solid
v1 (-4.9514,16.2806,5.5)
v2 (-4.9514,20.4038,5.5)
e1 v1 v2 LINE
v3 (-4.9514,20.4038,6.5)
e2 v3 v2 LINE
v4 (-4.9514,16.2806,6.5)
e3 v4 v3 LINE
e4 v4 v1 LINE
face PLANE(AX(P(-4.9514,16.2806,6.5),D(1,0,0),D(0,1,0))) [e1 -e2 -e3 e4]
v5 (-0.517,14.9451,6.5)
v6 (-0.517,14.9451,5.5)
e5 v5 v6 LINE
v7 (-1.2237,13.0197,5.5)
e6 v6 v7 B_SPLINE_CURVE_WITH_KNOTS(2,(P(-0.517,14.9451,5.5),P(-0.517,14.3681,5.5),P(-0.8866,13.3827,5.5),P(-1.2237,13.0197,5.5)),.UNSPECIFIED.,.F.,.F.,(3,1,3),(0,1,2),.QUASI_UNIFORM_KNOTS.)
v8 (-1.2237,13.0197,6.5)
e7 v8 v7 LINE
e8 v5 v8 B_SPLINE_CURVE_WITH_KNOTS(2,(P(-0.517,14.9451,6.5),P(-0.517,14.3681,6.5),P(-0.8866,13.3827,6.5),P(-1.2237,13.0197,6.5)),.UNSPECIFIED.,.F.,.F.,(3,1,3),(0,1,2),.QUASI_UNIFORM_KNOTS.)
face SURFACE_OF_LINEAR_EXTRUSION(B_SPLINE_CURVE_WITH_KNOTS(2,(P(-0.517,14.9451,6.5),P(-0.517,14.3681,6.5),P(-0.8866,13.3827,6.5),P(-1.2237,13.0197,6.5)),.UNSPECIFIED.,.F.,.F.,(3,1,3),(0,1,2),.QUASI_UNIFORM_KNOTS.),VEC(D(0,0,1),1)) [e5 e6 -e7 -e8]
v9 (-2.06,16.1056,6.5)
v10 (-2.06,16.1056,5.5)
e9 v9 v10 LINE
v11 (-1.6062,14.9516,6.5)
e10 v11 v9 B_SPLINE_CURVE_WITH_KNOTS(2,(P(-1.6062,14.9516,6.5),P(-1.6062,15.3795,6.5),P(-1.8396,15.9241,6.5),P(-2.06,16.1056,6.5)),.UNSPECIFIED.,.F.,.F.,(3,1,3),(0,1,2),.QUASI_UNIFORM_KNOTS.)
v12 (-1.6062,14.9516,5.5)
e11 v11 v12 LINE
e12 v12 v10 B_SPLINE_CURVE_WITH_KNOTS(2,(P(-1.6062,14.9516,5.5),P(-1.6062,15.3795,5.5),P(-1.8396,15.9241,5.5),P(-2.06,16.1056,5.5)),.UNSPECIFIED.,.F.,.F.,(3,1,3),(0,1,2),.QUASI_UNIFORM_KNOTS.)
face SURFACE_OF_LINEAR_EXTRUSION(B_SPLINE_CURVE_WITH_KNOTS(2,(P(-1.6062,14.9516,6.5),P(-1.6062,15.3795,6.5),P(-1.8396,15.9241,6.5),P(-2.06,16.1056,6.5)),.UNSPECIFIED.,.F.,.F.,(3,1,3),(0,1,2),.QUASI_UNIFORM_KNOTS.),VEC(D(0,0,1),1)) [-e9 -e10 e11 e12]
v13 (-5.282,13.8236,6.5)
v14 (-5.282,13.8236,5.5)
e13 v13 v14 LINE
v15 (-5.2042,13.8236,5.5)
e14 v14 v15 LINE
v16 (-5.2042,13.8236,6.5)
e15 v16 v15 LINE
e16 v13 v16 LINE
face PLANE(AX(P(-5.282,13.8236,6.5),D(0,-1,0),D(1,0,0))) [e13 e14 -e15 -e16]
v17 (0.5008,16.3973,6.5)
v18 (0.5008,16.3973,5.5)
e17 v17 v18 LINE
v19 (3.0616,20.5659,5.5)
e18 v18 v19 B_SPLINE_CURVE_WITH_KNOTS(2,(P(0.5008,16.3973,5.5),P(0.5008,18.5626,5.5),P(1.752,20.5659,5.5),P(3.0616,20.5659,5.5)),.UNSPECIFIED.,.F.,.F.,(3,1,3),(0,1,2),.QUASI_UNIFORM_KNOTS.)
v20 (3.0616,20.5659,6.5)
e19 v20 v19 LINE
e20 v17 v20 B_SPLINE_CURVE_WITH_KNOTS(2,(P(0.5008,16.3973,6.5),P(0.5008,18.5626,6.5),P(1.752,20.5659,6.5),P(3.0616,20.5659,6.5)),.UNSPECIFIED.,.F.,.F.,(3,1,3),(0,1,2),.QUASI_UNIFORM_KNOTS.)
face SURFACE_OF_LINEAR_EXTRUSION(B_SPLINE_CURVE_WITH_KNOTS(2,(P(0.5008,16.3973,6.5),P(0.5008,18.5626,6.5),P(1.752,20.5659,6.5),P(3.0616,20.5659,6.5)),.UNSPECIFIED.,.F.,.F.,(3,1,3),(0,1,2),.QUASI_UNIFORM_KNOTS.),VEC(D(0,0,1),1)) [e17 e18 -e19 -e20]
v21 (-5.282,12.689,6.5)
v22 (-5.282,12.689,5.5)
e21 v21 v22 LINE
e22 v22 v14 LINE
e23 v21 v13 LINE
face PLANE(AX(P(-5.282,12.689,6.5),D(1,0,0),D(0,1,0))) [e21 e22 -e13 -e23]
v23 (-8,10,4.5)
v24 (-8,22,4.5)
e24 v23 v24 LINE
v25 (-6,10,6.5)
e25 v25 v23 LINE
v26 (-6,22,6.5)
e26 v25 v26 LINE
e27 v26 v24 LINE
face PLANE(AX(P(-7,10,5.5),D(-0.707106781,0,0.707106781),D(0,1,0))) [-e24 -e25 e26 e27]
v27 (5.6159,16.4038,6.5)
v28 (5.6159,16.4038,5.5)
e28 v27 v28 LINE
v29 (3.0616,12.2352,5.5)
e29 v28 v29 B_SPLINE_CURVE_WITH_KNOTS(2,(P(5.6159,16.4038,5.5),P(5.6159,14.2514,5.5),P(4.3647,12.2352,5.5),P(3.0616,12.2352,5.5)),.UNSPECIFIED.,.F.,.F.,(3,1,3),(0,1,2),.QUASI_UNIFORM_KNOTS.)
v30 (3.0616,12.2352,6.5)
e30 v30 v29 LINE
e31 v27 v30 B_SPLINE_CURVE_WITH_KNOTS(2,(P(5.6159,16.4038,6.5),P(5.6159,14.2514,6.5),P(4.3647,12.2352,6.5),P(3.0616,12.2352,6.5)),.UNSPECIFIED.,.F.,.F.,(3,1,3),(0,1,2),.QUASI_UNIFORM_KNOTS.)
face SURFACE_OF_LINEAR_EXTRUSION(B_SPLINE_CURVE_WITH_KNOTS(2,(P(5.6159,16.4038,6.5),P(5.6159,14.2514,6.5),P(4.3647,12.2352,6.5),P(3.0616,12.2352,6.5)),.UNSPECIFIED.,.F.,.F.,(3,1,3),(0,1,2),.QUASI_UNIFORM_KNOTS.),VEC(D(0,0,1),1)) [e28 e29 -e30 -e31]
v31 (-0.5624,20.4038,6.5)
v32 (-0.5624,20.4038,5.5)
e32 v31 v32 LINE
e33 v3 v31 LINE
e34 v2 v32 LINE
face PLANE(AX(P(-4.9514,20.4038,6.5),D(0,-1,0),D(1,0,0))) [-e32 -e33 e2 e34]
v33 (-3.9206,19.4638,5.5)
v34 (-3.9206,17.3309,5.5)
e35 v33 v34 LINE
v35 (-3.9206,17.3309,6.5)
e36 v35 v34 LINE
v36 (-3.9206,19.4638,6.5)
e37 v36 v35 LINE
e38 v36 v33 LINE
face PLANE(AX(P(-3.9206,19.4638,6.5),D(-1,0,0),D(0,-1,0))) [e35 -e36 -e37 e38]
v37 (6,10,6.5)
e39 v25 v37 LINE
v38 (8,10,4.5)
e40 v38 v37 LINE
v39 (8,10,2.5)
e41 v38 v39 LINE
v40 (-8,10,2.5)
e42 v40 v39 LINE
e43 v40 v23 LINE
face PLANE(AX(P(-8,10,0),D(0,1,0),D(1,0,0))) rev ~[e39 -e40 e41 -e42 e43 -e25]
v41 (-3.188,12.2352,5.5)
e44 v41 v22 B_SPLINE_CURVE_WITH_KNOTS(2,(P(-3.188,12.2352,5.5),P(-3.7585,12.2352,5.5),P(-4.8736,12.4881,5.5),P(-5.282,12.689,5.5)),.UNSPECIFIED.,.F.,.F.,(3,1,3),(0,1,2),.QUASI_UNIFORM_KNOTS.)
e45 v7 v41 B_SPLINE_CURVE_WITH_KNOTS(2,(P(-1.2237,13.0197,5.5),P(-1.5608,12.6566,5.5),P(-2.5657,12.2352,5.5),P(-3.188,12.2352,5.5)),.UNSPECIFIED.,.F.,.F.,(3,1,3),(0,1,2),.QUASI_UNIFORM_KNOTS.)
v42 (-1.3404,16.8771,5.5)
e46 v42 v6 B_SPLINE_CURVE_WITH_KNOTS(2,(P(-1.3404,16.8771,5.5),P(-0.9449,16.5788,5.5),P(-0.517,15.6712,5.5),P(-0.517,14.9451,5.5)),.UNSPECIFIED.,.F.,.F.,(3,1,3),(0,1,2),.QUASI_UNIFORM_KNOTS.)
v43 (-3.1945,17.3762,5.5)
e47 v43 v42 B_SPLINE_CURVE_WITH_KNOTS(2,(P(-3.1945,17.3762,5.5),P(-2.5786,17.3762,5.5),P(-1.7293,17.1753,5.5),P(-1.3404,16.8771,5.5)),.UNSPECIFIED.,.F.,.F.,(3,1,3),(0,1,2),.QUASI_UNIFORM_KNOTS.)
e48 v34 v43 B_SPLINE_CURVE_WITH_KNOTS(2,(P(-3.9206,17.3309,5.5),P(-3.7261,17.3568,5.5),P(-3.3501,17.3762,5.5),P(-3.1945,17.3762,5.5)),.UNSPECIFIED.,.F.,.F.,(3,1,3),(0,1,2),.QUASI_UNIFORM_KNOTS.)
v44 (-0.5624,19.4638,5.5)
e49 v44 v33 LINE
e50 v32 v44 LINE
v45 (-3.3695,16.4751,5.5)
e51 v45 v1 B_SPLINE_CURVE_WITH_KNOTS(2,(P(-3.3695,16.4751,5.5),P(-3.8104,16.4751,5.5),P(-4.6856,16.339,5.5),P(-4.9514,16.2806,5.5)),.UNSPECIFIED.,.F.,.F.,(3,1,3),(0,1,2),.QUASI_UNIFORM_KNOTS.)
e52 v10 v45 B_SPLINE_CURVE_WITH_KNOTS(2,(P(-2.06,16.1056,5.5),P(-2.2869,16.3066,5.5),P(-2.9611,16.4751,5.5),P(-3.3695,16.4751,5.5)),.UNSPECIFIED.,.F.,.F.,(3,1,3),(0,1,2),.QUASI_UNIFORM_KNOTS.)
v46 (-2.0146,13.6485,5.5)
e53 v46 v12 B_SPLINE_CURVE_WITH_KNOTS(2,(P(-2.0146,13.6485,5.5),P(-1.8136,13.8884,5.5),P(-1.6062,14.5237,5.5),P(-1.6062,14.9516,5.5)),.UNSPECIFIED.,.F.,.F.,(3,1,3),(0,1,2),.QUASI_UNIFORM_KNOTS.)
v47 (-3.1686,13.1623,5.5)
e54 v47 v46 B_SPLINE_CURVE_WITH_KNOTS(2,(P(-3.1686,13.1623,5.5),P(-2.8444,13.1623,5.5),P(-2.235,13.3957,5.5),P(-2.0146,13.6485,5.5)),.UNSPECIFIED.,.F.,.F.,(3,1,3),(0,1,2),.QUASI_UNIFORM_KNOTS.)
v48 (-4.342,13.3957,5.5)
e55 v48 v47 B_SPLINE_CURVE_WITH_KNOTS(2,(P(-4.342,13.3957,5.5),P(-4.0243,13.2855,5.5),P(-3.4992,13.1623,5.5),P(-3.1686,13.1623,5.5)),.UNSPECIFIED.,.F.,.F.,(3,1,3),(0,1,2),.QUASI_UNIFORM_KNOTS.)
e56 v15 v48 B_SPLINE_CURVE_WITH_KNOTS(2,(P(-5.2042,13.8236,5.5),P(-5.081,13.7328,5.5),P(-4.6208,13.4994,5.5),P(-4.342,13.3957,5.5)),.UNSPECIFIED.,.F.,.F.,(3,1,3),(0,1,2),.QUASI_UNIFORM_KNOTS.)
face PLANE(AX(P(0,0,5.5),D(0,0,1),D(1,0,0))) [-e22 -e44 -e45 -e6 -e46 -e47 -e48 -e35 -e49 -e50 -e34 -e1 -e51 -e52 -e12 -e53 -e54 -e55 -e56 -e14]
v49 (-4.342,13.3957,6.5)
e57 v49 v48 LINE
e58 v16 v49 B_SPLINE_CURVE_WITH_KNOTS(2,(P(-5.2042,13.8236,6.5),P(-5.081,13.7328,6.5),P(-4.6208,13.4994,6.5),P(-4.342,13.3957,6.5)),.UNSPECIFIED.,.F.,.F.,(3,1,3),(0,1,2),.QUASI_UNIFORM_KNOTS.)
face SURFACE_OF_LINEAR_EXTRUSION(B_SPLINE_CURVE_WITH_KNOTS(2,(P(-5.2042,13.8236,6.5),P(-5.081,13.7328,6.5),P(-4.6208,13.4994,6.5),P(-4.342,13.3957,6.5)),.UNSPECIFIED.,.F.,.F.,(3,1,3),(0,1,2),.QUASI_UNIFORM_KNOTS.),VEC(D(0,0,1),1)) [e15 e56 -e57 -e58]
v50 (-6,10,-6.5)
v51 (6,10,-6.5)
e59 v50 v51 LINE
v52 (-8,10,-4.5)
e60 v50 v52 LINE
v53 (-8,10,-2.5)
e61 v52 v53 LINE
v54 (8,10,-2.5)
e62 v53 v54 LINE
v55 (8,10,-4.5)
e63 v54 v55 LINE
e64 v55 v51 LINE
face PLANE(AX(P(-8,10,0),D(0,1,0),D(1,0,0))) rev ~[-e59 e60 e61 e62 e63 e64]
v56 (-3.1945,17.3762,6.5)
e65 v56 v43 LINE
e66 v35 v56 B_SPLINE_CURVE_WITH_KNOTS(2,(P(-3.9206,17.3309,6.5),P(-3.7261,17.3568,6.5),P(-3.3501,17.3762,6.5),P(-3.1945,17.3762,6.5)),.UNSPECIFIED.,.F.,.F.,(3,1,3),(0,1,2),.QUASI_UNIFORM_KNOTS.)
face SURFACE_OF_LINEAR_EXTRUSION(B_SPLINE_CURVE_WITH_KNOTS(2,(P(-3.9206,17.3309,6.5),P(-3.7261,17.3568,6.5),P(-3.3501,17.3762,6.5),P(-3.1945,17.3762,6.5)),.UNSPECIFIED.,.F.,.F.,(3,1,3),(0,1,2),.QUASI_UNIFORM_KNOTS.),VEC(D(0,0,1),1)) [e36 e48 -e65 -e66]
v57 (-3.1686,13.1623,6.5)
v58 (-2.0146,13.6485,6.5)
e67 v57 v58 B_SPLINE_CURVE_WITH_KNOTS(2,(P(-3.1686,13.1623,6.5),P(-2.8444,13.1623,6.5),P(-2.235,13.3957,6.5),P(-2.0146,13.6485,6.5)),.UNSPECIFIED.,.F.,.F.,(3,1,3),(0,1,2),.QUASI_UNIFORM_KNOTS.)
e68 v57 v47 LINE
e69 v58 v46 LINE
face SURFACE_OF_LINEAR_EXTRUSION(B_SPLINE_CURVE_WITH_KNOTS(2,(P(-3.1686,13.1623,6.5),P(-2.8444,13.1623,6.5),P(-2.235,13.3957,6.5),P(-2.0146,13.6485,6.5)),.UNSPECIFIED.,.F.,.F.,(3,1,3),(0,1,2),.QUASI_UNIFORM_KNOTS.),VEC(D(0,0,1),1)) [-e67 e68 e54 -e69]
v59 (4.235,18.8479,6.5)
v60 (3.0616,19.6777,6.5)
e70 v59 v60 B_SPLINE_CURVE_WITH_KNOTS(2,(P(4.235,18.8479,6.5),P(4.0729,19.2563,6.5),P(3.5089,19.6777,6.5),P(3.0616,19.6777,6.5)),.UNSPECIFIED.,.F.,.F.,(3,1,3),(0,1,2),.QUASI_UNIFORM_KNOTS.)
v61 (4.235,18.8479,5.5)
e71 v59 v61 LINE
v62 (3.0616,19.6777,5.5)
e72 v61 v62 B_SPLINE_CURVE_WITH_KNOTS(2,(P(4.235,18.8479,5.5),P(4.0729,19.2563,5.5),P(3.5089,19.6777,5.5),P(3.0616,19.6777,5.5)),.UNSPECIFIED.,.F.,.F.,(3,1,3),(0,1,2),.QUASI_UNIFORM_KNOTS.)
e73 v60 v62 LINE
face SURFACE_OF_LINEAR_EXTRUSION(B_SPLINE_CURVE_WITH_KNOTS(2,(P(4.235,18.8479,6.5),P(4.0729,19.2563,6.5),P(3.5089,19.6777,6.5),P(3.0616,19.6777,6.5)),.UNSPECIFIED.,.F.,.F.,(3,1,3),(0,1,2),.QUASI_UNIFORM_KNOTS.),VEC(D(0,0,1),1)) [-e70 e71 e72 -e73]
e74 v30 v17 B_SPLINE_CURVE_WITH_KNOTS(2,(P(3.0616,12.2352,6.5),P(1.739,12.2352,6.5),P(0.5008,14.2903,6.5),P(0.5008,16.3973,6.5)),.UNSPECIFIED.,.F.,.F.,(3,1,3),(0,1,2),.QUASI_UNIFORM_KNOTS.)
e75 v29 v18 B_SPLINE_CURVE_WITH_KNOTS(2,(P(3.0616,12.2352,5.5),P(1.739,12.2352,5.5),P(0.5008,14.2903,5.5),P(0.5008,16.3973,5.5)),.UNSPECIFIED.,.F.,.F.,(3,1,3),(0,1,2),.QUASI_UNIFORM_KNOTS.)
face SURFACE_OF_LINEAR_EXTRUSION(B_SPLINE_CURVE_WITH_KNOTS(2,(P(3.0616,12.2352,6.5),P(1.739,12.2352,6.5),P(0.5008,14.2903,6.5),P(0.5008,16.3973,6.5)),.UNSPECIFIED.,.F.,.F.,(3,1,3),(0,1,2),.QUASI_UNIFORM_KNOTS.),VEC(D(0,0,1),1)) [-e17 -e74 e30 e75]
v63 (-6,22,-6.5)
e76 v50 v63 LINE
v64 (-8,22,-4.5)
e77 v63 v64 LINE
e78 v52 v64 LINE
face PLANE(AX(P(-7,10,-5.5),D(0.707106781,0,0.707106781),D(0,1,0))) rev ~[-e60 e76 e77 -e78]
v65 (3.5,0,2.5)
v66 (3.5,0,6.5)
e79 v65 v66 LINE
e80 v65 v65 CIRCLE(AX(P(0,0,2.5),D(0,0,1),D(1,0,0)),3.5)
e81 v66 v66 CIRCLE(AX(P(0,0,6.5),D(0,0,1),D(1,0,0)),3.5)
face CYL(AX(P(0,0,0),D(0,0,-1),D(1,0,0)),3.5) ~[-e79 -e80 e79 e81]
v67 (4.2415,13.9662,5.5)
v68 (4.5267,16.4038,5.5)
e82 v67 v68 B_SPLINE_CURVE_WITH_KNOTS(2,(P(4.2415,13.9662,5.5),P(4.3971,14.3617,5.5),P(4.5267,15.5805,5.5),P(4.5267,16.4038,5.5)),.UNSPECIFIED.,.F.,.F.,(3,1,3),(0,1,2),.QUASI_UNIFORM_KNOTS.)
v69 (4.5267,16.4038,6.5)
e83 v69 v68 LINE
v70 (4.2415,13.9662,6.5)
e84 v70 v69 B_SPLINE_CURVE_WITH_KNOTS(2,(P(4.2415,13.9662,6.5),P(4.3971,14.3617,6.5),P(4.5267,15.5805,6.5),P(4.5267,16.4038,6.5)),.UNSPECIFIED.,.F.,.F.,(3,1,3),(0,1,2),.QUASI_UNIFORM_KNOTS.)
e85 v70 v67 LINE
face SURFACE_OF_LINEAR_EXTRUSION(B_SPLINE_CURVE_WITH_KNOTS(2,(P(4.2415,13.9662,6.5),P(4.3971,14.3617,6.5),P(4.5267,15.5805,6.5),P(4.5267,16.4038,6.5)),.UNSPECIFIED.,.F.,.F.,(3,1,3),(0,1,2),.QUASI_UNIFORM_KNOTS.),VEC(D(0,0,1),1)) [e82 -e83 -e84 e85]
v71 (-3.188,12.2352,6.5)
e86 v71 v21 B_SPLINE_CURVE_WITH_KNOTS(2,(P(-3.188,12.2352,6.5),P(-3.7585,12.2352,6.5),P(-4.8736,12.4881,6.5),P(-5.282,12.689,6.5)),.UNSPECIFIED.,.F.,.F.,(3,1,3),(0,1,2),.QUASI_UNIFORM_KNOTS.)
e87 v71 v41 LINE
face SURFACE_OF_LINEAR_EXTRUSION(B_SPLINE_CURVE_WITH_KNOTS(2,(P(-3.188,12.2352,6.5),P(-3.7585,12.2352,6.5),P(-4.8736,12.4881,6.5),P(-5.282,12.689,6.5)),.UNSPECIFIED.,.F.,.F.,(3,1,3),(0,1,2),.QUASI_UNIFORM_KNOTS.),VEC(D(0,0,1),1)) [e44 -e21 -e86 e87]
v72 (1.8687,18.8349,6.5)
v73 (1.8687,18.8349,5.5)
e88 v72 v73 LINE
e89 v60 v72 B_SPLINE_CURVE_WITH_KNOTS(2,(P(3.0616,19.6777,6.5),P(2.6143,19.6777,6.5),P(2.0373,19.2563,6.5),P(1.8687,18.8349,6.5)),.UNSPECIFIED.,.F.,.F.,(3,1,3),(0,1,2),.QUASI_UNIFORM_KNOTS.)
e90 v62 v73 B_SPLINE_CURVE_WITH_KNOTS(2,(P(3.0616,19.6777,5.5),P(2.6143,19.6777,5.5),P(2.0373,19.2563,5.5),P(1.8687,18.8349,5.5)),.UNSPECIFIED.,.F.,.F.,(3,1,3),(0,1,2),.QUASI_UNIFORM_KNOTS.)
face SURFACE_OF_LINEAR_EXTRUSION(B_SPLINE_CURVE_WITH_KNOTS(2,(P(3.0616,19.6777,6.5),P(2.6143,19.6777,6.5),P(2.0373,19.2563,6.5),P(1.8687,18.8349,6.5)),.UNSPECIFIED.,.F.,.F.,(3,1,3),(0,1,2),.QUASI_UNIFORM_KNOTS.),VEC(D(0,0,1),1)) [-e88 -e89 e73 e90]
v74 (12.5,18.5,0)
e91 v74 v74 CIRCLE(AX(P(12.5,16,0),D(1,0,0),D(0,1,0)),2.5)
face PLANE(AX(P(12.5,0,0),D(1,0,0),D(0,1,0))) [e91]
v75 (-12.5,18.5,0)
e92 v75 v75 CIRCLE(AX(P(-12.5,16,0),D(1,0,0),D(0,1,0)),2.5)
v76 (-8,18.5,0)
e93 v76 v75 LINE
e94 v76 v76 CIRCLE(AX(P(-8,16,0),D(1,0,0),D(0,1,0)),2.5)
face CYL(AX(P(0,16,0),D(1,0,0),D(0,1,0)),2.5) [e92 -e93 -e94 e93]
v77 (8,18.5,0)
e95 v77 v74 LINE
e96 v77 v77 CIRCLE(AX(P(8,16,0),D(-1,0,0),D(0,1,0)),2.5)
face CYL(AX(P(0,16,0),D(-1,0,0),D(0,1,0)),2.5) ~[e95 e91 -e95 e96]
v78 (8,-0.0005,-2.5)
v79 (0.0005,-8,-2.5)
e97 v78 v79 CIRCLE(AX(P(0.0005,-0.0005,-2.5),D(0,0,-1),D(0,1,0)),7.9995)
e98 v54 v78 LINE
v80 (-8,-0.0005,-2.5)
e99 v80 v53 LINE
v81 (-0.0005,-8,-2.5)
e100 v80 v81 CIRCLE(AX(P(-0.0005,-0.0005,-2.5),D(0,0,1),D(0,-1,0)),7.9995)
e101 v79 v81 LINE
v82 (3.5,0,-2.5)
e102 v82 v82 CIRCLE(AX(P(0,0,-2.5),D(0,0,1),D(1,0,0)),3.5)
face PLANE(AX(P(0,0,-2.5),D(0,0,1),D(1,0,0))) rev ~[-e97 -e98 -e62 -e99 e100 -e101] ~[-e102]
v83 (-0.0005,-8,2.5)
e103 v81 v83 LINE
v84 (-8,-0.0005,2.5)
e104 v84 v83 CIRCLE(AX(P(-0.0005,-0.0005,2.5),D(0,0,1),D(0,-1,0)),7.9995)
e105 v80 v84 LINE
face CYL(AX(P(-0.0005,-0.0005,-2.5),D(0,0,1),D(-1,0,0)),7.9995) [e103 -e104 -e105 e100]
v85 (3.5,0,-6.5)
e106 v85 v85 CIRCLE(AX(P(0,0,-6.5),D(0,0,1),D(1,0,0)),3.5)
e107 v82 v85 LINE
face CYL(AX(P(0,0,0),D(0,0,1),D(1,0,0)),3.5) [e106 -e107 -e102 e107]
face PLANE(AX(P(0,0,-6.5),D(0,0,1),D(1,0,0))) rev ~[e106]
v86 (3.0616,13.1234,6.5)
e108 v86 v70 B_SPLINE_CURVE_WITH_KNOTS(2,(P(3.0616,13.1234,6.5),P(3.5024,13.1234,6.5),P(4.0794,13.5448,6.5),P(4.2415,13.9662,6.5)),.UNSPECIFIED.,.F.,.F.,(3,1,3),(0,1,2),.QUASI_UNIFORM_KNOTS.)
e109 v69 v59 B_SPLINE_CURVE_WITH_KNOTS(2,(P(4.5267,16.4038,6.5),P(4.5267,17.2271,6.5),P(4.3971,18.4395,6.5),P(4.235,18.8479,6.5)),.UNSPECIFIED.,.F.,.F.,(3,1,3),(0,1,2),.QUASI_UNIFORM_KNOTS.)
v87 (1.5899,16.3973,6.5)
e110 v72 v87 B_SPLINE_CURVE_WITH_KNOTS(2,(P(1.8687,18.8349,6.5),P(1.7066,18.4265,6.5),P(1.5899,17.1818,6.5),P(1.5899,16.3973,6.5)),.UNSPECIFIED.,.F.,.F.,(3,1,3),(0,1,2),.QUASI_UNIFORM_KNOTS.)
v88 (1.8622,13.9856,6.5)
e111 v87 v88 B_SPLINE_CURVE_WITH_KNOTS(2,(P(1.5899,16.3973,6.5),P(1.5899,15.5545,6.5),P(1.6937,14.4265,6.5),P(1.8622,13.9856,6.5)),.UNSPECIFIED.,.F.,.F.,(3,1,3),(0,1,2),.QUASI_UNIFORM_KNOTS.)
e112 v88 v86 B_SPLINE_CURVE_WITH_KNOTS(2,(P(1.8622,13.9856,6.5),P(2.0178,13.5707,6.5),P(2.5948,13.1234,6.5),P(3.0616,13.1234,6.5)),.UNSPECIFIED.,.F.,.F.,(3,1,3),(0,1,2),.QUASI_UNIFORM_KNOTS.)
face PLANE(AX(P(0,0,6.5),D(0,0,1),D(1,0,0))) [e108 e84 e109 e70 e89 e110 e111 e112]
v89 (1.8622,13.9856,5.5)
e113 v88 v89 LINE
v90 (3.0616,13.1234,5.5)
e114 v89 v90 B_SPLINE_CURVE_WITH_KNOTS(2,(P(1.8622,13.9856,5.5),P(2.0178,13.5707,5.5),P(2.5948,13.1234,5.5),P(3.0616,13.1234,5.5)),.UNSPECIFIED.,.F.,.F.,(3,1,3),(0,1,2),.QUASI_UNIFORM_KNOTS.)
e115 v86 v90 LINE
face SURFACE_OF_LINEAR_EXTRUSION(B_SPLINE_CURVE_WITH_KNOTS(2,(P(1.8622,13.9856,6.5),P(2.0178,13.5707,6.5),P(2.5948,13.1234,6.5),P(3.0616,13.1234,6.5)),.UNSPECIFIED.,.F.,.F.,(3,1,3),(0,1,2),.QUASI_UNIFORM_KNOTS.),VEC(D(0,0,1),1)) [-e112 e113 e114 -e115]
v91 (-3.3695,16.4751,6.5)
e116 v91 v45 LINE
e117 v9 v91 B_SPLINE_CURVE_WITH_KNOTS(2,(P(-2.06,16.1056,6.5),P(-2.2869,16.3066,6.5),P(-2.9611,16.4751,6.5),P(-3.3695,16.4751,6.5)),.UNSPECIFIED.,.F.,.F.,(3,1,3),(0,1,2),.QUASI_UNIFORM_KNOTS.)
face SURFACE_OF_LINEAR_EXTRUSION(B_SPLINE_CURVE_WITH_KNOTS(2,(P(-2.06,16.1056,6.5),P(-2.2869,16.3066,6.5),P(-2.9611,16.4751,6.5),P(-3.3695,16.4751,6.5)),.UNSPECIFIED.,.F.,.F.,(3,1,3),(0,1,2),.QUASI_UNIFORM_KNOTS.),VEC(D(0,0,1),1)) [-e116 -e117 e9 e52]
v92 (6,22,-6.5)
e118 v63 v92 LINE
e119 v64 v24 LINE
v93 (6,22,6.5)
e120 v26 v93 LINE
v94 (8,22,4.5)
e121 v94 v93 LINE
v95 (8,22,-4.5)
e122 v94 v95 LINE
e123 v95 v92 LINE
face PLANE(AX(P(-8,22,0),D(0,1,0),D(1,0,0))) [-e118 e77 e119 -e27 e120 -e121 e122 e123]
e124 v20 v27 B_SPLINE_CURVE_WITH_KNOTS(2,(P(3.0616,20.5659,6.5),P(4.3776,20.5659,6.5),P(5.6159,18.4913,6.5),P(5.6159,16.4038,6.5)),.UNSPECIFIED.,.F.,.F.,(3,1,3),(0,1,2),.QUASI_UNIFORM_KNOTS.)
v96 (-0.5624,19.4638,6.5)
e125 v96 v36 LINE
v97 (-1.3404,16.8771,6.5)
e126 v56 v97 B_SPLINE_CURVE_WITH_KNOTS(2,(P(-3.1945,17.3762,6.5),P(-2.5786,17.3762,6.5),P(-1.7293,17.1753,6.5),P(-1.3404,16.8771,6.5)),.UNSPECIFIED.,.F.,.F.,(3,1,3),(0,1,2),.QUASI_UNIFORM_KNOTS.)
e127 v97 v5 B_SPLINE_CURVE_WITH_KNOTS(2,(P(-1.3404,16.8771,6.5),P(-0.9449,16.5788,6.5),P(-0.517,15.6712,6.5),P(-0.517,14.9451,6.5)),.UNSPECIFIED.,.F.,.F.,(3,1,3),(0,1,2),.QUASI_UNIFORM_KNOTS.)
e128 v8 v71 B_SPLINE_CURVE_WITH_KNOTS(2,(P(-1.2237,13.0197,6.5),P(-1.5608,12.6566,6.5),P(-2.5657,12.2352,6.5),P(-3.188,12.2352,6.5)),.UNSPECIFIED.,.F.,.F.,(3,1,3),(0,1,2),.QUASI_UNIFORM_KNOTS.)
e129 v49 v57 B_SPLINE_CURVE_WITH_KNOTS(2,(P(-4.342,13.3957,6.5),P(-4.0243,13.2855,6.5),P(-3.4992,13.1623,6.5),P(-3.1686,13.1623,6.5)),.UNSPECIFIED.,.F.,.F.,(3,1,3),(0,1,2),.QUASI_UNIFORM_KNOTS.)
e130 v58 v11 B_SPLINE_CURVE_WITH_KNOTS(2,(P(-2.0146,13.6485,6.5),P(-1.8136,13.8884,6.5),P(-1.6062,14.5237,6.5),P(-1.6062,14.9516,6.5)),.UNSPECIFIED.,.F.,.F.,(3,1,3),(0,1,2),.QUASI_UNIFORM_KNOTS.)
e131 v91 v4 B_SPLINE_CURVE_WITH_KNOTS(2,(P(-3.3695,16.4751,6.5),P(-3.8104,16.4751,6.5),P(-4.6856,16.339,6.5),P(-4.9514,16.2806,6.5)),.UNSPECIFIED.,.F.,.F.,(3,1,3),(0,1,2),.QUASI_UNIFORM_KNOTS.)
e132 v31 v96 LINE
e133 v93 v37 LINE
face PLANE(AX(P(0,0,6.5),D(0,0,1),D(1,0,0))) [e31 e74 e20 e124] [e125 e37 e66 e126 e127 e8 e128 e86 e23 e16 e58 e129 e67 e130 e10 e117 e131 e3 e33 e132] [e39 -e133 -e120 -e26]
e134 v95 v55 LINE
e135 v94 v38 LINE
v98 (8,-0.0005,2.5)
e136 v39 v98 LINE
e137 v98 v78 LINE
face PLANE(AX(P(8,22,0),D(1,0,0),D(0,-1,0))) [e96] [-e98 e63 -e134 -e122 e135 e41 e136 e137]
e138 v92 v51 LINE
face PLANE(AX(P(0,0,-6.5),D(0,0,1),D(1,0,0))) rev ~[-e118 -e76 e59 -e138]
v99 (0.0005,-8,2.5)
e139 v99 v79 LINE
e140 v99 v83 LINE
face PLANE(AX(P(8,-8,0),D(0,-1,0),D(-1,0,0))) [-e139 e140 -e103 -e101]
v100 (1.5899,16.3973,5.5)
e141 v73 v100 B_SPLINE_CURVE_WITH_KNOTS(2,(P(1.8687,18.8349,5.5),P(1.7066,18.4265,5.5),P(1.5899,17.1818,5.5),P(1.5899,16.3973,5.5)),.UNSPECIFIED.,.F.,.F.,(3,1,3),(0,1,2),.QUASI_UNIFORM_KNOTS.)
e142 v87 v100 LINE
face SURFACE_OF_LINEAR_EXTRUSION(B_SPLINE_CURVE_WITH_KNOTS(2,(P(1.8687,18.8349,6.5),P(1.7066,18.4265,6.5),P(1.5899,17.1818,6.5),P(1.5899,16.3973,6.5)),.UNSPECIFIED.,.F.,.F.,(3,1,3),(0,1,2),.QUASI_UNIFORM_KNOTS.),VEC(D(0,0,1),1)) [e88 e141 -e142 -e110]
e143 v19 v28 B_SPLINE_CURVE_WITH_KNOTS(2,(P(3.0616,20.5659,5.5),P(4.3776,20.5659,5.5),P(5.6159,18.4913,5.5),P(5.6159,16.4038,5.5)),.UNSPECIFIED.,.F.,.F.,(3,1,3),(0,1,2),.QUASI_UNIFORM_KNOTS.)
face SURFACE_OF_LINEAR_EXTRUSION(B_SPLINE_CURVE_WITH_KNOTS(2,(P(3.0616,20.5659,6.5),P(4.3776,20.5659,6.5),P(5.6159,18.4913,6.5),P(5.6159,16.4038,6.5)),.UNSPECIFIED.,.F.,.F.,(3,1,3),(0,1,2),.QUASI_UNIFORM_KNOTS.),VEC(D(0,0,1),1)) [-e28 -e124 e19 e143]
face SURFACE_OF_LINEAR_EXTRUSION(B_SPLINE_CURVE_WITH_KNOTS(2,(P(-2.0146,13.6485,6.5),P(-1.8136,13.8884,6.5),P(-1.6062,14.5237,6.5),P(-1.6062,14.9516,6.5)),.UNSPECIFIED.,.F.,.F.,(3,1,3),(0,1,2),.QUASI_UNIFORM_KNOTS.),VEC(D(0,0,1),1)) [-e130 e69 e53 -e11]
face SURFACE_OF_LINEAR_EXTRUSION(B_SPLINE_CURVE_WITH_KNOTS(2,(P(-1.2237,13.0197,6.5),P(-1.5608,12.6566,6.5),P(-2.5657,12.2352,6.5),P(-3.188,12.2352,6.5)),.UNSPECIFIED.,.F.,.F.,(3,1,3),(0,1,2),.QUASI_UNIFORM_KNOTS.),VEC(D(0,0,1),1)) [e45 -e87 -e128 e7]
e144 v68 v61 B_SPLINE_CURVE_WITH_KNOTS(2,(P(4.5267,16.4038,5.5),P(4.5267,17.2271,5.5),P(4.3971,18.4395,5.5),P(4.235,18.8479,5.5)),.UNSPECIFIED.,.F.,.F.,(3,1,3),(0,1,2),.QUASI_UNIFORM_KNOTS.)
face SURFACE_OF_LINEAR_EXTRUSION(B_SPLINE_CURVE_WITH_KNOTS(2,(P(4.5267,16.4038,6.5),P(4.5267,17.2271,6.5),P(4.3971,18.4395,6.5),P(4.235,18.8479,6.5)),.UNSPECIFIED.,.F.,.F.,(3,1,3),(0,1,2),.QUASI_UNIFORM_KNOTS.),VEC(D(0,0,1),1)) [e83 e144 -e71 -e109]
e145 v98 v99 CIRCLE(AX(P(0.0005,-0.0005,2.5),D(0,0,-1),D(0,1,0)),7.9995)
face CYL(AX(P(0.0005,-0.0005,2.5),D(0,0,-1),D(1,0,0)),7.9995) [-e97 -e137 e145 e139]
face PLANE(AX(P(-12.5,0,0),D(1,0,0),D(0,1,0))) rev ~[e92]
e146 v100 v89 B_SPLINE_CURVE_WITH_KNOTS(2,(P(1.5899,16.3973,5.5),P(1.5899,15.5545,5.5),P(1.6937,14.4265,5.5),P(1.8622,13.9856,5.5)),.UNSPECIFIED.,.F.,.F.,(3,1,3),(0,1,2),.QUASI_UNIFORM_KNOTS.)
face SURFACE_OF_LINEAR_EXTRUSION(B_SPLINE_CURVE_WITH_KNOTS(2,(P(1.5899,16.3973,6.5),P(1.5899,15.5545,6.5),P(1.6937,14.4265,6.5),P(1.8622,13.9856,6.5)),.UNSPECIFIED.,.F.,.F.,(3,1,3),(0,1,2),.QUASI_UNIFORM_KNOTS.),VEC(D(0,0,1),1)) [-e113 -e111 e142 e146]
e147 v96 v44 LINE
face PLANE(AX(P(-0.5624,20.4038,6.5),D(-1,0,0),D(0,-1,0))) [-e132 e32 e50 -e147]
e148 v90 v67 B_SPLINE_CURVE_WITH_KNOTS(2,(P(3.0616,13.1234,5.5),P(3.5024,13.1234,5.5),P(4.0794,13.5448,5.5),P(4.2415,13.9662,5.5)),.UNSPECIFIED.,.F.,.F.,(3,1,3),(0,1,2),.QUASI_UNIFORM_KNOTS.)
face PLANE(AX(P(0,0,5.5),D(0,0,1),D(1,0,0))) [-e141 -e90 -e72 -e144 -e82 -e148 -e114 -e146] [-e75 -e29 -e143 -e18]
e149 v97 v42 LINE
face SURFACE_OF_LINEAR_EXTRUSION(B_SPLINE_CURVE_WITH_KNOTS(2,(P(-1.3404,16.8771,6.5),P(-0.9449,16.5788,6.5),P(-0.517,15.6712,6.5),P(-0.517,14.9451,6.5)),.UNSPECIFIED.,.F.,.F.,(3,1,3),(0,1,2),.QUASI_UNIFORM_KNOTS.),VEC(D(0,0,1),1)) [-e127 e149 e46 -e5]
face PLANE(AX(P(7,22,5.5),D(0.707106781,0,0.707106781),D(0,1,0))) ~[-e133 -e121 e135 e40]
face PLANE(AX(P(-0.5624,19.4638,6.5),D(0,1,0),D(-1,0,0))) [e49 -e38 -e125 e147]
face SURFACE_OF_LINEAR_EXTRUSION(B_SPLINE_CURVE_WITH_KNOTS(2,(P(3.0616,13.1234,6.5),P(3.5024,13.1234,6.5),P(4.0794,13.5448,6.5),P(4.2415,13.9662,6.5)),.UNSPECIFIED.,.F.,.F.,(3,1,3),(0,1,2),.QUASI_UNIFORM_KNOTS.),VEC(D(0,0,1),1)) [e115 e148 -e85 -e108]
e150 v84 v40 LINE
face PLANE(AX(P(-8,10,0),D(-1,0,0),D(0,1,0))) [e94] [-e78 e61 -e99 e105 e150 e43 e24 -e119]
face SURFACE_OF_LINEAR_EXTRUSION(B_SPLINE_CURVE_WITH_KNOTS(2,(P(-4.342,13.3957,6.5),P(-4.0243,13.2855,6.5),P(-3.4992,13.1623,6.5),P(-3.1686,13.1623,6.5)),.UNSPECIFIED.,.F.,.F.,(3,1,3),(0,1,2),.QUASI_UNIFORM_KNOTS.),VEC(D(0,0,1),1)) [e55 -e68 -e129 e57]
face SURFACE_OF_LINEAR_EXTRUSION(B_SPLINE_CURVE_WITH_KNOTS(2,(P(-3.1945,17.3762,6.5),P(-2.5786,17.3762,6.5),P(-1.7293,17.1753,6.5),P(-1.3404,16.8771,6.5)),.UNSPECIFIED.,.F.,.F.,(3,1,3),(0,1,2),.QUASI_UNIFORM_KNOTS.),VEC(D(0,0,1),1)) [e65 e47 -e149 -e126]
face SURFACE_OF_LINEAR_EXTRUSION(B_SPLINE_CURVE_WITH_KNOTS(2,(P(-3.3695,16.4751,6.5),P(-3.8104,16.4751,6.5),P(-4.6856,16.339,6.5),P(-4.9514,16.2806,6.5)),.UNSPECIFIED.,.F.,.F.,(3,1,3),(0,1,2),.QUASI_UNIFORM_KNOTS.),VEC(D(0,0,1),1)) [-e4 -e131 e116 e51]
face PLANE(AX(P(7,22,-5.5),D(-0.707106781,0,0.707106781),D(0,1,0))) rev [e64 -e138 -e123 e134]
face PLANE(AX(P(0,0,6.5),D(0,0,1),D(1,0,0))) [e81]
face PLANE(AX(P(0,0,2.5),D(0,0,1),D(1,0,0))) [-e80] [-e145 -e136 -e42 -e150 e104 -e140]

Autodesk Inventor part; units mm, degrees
ref_plane "YZ Plane" through (0, 0, 0) normal (1, 0, 0) x (0, 1, 0)
ref_plane "XZ Plane" through (0, 0, 0) normal (0, 1, 0) x (-1, 0, 0)
ref_plane "XY Plane" through (0, 0, 0) normal (0, 0, 1) x (1, 0, 0)
sketch "스케치1" plane through (0, 0, 0) normal (0, 0, 1) x (1, 0, 0)
  circle A0 centre (0, 0) radius 3.5
  line L0 (-8, 22) -> (8, 22)
  line L1 (8, 22) -> (8, -8)
  line L2 (8, -8) -> (-8, -8)
  line L3 (-8, -8) -> (-8, 22)
  line L4 (-8, 10) -> (8, 10)
  dimension "d0" = 7
  dimension "d2" = 16
  dimension "d3" = 8
  dimension "d4" = 30
  dimension "d5" = 22
  dimension "d6" = 12
extrude "돌출1" add sketch "스케치1" along normal mid plane 13 contours A0
extrude "돌출2" add sketch "스케치1" along normal mid plane 5 contours L4 L1 L2 L3
extrude "돌출3" add sketch "스케치1" along normal mid plane 13 contours L0 L1 L4 L3
sketch "스케치2" plane through (8, -8, 2.5) normal (1, 0, 0) x (0, 0, -1)
  line L0 (9, 30) -> (-4, 30) projected
  line L1 (-4, 18) -> (-4, 30) projected
  point P0 (2.5, 8)
sketch "스케치3" plane through (0, 0, 0) normal (1, 0, 0) x (0, 1, 0)
  circle A0 centre (16, 0) radius 2.5
  line L0 (22, 6.5) -> (22, -6.5) projected
  line L1 (22, 6.5) -> (10, 6.5) projected
  point P0 (0, 0)
  dimension "d16" = 5
  dimension "d17" = 6
  dimension "d18" = 6.5
extrude "돌출4" add sketch "스케치3" along normal mid plane 25
fillet "모깎기1" radius 8 2 edges at (8, -8, 0) (-8, -8, 0)
chamfer "모따기1" distance 2 angle 45 4 edges at (8, 16, 6.5) (8, 16, -6.5) (-8, 16, 6.5) (-8, 16, -6.5)
sketch "스케치4" plane through (0, 0, 6.5) normal (0, 0, 1) x (1, 0, 0)
  line L0 (-5.9498, 20.5659) -> (5.0498, 20.5659) construction
  line L1 (5.0498, 20.5659) -> (5.0498, 12.6328) construction
  line L2 (5.0498, 12.6328) -> (-5.9498, 12.6328) construction
  line L3 (-5.9498, 12.6328) -> (-5.9498, 20.5659) construction
  spline S0 degree 2 poles (-0.517, 14.9451) (-0.517, 14.3681) (-0.8866, 13.3827) (-1.2237, 13.0197) knots 0 0 0 1 2 2 2
  spline S1 degree 2 poles (-1.2237, 13.0197) (-1.5608, 12.6566) (-2.5657, 12.2352) (-3.188, 12.2352) knots 0 0 0 1 2 2 2
  spline S2 degree 2 poles (-3.188, 12.2352) (-3.7585, 12.2352) (-4.8736, 12.4881) (-5.282, 12.689) knots 0 0 0 1 2 2 2
  line L4 (-5.282, 12.689) -> (-5.282, 13.8236)
  line L5 (-5.282, 13.8236) -> (-5.2042, 13.8236)
  spline S3 degree 2 poles (-5.2042, 13.8236) (-5.081, 13.7328) (-4.6208, 13.4994) (-4.342, 13.3957) knots 0 0 0 1 2 2 2
  spline S4 degree 2 poles (-4.342, 13.3957) (-4.0243, 13.2855) (-3.4992, 13.1623) (-3.1686, 13.1623) knots 0 0 0 1 2 2 2
  spline S5 degree 2 poles (-3.1686, 13.1623) (-2.8444, 13.1623) (-2.235, 13.3957) (-2.0146, 13.6485) knots 0 0 0 1 2 2 2
  spline S6 degree 2 poles (-2.0146, 13.6485) (-1.8136, 13.8884) (-1.6062, 14.5237) (-1.6062, 14.9516) knots 0 0 0 1 2 2 2
  spline S7 degree 2 poles (-1.6062, 14.9516) (-1.6062, 15.3795) (-1.8396, 15.9241) (-2.06, 16.1056) knots 0 0 0 1 2 2 2
  spline S8 degree 2 poles (-2.06, 16.1056) (-2.2869, 16.3066) (-2.9611, 16.4751) (-3.3695, 16.4751) knots 0 0 0 1 2 2 2
  spline S9 degree 2 poles (-3.3695, 16.4751) (-3.8104, 16.4751) (-4.6856, 16.339) (-4.9514, 16.2806) knots 0 0 0 1 2 2 2
  line L6 (-4.9514, 16.2806) -> (-4.9514, 20.4038)
  line L7 (-4.9514, 20.4038) -> (-0.5624, 20.4038)
  line L8 (-0.5624, 20.4038) -> (-0.5624, 19.4638)
  line L9 (-0.5624, 19.4638) -> (-3.9206, 19.4638)
  line L10 (-3.9206, 19.4638) -> (-3.9206, 17.3309)
  spline S10 degree 2 poles (-3.9206, 17.3309) (-3.7261, 17.3568) (-3.3501, 17.3762) (-3.1945, 17.3762) knots 0 0 0 1 2 2 2
  spline S11 degree 2 poles (-3.1945, 17.3762) (-2.5786, 17.3762) (-1.7293, 17.1753) (-1.3404, 16.8771) knots 0 0 0 1 2 2 2
  spline S12 degree 2 poles (-1.3404, 16.8771) (-0.9449, 16.5788) (-0.517, 15.6712) (-0.517, 14.9451) knots 0 0 0 1 2 2 2
  spline S13 degree 2 poles (5.6159, 16.4038) (5.6159, 14.2514) (4.3647, 12.2352) (3.0616, 12.2352) knots 0 0 0 1 2 2 2
  spline S14 degree 2 poles (3.0616, 12.2352) (1.739, 12.2352) (0.5008, 14.2903) (0.5008, 16.3973) knots 0 0 0 1 2 2 2
  spline S15 degree 2 poles (0.5008, 16.3973) (0.5008, 18.5626) (1.752, 20.5659) (3.0616, 20.5659) knots 0 0 0 1 2 2 2
  spline S16 degree 2 poles (3.0616, 20.5659) (4.3776, 20.5659) (5.6159, 18.4913) (5.6159, 16.4038) knots 0 0 0 1 2 2 2
  spline S17 degree 2 poles (4.2415, 13.9662) (4.3971, 14.3617) (4.5267, 15.5805) (4.5267, 16.4038) knots 0 0 0 1 2 2 2
  spline S18 degree 2 poles (4.5267, 16.4038) (4.5267, 17.2271) (4.3971, 18.4395) (4.235, 18.8479) knots 0 0 0 1 2 2 2
  spline S19 degree 2 poles (4.235, 18.8479) (4.0729, 19.2563) (3.5089, 19.6777) (3.0616, 19.6777) knots 0 0 0 1 2 2 2
  spline S20 degree 2 poles (3.0616, 19.6777) (2.6143, 19.6777) (2.0373, 19.2563) (1.8687, 18.8349) knots 0 0 0 1 2 2 2
  spline S21 degree 2 poles (1.8687, 18.8349) (1.7066, 18.4265) (1.5899, 17.1818) (1.5899, 16.3973) knots 0 0 0 1 2 2 2
  spline S22 degree 2 poles (1.5899, 16.3973) (1.5899, 15.5545) (1.6937, 14.4265) (1.8622, 13.9856) knots 0 0 0 1 2 2 2
  spline S23 degree 2 poles (1.8622, 13.9856) (2.0178, 13.5707) (2.5948, 13.1234) (3.0616, 13.1234) knots 0 0 0 1 2 2 2
  spline S24 degree 2 poles (3.0616, 13.1234) (3.5024, 13.1234) (4.0794, 13.5448) (4.2415, 13.9662) knots 0 0 0 1 2 2 2
  point P0 (0, 0)
extrude "돌출5" cut sketch "스케치4" against normal blind 1
properties part number "1번부품"
